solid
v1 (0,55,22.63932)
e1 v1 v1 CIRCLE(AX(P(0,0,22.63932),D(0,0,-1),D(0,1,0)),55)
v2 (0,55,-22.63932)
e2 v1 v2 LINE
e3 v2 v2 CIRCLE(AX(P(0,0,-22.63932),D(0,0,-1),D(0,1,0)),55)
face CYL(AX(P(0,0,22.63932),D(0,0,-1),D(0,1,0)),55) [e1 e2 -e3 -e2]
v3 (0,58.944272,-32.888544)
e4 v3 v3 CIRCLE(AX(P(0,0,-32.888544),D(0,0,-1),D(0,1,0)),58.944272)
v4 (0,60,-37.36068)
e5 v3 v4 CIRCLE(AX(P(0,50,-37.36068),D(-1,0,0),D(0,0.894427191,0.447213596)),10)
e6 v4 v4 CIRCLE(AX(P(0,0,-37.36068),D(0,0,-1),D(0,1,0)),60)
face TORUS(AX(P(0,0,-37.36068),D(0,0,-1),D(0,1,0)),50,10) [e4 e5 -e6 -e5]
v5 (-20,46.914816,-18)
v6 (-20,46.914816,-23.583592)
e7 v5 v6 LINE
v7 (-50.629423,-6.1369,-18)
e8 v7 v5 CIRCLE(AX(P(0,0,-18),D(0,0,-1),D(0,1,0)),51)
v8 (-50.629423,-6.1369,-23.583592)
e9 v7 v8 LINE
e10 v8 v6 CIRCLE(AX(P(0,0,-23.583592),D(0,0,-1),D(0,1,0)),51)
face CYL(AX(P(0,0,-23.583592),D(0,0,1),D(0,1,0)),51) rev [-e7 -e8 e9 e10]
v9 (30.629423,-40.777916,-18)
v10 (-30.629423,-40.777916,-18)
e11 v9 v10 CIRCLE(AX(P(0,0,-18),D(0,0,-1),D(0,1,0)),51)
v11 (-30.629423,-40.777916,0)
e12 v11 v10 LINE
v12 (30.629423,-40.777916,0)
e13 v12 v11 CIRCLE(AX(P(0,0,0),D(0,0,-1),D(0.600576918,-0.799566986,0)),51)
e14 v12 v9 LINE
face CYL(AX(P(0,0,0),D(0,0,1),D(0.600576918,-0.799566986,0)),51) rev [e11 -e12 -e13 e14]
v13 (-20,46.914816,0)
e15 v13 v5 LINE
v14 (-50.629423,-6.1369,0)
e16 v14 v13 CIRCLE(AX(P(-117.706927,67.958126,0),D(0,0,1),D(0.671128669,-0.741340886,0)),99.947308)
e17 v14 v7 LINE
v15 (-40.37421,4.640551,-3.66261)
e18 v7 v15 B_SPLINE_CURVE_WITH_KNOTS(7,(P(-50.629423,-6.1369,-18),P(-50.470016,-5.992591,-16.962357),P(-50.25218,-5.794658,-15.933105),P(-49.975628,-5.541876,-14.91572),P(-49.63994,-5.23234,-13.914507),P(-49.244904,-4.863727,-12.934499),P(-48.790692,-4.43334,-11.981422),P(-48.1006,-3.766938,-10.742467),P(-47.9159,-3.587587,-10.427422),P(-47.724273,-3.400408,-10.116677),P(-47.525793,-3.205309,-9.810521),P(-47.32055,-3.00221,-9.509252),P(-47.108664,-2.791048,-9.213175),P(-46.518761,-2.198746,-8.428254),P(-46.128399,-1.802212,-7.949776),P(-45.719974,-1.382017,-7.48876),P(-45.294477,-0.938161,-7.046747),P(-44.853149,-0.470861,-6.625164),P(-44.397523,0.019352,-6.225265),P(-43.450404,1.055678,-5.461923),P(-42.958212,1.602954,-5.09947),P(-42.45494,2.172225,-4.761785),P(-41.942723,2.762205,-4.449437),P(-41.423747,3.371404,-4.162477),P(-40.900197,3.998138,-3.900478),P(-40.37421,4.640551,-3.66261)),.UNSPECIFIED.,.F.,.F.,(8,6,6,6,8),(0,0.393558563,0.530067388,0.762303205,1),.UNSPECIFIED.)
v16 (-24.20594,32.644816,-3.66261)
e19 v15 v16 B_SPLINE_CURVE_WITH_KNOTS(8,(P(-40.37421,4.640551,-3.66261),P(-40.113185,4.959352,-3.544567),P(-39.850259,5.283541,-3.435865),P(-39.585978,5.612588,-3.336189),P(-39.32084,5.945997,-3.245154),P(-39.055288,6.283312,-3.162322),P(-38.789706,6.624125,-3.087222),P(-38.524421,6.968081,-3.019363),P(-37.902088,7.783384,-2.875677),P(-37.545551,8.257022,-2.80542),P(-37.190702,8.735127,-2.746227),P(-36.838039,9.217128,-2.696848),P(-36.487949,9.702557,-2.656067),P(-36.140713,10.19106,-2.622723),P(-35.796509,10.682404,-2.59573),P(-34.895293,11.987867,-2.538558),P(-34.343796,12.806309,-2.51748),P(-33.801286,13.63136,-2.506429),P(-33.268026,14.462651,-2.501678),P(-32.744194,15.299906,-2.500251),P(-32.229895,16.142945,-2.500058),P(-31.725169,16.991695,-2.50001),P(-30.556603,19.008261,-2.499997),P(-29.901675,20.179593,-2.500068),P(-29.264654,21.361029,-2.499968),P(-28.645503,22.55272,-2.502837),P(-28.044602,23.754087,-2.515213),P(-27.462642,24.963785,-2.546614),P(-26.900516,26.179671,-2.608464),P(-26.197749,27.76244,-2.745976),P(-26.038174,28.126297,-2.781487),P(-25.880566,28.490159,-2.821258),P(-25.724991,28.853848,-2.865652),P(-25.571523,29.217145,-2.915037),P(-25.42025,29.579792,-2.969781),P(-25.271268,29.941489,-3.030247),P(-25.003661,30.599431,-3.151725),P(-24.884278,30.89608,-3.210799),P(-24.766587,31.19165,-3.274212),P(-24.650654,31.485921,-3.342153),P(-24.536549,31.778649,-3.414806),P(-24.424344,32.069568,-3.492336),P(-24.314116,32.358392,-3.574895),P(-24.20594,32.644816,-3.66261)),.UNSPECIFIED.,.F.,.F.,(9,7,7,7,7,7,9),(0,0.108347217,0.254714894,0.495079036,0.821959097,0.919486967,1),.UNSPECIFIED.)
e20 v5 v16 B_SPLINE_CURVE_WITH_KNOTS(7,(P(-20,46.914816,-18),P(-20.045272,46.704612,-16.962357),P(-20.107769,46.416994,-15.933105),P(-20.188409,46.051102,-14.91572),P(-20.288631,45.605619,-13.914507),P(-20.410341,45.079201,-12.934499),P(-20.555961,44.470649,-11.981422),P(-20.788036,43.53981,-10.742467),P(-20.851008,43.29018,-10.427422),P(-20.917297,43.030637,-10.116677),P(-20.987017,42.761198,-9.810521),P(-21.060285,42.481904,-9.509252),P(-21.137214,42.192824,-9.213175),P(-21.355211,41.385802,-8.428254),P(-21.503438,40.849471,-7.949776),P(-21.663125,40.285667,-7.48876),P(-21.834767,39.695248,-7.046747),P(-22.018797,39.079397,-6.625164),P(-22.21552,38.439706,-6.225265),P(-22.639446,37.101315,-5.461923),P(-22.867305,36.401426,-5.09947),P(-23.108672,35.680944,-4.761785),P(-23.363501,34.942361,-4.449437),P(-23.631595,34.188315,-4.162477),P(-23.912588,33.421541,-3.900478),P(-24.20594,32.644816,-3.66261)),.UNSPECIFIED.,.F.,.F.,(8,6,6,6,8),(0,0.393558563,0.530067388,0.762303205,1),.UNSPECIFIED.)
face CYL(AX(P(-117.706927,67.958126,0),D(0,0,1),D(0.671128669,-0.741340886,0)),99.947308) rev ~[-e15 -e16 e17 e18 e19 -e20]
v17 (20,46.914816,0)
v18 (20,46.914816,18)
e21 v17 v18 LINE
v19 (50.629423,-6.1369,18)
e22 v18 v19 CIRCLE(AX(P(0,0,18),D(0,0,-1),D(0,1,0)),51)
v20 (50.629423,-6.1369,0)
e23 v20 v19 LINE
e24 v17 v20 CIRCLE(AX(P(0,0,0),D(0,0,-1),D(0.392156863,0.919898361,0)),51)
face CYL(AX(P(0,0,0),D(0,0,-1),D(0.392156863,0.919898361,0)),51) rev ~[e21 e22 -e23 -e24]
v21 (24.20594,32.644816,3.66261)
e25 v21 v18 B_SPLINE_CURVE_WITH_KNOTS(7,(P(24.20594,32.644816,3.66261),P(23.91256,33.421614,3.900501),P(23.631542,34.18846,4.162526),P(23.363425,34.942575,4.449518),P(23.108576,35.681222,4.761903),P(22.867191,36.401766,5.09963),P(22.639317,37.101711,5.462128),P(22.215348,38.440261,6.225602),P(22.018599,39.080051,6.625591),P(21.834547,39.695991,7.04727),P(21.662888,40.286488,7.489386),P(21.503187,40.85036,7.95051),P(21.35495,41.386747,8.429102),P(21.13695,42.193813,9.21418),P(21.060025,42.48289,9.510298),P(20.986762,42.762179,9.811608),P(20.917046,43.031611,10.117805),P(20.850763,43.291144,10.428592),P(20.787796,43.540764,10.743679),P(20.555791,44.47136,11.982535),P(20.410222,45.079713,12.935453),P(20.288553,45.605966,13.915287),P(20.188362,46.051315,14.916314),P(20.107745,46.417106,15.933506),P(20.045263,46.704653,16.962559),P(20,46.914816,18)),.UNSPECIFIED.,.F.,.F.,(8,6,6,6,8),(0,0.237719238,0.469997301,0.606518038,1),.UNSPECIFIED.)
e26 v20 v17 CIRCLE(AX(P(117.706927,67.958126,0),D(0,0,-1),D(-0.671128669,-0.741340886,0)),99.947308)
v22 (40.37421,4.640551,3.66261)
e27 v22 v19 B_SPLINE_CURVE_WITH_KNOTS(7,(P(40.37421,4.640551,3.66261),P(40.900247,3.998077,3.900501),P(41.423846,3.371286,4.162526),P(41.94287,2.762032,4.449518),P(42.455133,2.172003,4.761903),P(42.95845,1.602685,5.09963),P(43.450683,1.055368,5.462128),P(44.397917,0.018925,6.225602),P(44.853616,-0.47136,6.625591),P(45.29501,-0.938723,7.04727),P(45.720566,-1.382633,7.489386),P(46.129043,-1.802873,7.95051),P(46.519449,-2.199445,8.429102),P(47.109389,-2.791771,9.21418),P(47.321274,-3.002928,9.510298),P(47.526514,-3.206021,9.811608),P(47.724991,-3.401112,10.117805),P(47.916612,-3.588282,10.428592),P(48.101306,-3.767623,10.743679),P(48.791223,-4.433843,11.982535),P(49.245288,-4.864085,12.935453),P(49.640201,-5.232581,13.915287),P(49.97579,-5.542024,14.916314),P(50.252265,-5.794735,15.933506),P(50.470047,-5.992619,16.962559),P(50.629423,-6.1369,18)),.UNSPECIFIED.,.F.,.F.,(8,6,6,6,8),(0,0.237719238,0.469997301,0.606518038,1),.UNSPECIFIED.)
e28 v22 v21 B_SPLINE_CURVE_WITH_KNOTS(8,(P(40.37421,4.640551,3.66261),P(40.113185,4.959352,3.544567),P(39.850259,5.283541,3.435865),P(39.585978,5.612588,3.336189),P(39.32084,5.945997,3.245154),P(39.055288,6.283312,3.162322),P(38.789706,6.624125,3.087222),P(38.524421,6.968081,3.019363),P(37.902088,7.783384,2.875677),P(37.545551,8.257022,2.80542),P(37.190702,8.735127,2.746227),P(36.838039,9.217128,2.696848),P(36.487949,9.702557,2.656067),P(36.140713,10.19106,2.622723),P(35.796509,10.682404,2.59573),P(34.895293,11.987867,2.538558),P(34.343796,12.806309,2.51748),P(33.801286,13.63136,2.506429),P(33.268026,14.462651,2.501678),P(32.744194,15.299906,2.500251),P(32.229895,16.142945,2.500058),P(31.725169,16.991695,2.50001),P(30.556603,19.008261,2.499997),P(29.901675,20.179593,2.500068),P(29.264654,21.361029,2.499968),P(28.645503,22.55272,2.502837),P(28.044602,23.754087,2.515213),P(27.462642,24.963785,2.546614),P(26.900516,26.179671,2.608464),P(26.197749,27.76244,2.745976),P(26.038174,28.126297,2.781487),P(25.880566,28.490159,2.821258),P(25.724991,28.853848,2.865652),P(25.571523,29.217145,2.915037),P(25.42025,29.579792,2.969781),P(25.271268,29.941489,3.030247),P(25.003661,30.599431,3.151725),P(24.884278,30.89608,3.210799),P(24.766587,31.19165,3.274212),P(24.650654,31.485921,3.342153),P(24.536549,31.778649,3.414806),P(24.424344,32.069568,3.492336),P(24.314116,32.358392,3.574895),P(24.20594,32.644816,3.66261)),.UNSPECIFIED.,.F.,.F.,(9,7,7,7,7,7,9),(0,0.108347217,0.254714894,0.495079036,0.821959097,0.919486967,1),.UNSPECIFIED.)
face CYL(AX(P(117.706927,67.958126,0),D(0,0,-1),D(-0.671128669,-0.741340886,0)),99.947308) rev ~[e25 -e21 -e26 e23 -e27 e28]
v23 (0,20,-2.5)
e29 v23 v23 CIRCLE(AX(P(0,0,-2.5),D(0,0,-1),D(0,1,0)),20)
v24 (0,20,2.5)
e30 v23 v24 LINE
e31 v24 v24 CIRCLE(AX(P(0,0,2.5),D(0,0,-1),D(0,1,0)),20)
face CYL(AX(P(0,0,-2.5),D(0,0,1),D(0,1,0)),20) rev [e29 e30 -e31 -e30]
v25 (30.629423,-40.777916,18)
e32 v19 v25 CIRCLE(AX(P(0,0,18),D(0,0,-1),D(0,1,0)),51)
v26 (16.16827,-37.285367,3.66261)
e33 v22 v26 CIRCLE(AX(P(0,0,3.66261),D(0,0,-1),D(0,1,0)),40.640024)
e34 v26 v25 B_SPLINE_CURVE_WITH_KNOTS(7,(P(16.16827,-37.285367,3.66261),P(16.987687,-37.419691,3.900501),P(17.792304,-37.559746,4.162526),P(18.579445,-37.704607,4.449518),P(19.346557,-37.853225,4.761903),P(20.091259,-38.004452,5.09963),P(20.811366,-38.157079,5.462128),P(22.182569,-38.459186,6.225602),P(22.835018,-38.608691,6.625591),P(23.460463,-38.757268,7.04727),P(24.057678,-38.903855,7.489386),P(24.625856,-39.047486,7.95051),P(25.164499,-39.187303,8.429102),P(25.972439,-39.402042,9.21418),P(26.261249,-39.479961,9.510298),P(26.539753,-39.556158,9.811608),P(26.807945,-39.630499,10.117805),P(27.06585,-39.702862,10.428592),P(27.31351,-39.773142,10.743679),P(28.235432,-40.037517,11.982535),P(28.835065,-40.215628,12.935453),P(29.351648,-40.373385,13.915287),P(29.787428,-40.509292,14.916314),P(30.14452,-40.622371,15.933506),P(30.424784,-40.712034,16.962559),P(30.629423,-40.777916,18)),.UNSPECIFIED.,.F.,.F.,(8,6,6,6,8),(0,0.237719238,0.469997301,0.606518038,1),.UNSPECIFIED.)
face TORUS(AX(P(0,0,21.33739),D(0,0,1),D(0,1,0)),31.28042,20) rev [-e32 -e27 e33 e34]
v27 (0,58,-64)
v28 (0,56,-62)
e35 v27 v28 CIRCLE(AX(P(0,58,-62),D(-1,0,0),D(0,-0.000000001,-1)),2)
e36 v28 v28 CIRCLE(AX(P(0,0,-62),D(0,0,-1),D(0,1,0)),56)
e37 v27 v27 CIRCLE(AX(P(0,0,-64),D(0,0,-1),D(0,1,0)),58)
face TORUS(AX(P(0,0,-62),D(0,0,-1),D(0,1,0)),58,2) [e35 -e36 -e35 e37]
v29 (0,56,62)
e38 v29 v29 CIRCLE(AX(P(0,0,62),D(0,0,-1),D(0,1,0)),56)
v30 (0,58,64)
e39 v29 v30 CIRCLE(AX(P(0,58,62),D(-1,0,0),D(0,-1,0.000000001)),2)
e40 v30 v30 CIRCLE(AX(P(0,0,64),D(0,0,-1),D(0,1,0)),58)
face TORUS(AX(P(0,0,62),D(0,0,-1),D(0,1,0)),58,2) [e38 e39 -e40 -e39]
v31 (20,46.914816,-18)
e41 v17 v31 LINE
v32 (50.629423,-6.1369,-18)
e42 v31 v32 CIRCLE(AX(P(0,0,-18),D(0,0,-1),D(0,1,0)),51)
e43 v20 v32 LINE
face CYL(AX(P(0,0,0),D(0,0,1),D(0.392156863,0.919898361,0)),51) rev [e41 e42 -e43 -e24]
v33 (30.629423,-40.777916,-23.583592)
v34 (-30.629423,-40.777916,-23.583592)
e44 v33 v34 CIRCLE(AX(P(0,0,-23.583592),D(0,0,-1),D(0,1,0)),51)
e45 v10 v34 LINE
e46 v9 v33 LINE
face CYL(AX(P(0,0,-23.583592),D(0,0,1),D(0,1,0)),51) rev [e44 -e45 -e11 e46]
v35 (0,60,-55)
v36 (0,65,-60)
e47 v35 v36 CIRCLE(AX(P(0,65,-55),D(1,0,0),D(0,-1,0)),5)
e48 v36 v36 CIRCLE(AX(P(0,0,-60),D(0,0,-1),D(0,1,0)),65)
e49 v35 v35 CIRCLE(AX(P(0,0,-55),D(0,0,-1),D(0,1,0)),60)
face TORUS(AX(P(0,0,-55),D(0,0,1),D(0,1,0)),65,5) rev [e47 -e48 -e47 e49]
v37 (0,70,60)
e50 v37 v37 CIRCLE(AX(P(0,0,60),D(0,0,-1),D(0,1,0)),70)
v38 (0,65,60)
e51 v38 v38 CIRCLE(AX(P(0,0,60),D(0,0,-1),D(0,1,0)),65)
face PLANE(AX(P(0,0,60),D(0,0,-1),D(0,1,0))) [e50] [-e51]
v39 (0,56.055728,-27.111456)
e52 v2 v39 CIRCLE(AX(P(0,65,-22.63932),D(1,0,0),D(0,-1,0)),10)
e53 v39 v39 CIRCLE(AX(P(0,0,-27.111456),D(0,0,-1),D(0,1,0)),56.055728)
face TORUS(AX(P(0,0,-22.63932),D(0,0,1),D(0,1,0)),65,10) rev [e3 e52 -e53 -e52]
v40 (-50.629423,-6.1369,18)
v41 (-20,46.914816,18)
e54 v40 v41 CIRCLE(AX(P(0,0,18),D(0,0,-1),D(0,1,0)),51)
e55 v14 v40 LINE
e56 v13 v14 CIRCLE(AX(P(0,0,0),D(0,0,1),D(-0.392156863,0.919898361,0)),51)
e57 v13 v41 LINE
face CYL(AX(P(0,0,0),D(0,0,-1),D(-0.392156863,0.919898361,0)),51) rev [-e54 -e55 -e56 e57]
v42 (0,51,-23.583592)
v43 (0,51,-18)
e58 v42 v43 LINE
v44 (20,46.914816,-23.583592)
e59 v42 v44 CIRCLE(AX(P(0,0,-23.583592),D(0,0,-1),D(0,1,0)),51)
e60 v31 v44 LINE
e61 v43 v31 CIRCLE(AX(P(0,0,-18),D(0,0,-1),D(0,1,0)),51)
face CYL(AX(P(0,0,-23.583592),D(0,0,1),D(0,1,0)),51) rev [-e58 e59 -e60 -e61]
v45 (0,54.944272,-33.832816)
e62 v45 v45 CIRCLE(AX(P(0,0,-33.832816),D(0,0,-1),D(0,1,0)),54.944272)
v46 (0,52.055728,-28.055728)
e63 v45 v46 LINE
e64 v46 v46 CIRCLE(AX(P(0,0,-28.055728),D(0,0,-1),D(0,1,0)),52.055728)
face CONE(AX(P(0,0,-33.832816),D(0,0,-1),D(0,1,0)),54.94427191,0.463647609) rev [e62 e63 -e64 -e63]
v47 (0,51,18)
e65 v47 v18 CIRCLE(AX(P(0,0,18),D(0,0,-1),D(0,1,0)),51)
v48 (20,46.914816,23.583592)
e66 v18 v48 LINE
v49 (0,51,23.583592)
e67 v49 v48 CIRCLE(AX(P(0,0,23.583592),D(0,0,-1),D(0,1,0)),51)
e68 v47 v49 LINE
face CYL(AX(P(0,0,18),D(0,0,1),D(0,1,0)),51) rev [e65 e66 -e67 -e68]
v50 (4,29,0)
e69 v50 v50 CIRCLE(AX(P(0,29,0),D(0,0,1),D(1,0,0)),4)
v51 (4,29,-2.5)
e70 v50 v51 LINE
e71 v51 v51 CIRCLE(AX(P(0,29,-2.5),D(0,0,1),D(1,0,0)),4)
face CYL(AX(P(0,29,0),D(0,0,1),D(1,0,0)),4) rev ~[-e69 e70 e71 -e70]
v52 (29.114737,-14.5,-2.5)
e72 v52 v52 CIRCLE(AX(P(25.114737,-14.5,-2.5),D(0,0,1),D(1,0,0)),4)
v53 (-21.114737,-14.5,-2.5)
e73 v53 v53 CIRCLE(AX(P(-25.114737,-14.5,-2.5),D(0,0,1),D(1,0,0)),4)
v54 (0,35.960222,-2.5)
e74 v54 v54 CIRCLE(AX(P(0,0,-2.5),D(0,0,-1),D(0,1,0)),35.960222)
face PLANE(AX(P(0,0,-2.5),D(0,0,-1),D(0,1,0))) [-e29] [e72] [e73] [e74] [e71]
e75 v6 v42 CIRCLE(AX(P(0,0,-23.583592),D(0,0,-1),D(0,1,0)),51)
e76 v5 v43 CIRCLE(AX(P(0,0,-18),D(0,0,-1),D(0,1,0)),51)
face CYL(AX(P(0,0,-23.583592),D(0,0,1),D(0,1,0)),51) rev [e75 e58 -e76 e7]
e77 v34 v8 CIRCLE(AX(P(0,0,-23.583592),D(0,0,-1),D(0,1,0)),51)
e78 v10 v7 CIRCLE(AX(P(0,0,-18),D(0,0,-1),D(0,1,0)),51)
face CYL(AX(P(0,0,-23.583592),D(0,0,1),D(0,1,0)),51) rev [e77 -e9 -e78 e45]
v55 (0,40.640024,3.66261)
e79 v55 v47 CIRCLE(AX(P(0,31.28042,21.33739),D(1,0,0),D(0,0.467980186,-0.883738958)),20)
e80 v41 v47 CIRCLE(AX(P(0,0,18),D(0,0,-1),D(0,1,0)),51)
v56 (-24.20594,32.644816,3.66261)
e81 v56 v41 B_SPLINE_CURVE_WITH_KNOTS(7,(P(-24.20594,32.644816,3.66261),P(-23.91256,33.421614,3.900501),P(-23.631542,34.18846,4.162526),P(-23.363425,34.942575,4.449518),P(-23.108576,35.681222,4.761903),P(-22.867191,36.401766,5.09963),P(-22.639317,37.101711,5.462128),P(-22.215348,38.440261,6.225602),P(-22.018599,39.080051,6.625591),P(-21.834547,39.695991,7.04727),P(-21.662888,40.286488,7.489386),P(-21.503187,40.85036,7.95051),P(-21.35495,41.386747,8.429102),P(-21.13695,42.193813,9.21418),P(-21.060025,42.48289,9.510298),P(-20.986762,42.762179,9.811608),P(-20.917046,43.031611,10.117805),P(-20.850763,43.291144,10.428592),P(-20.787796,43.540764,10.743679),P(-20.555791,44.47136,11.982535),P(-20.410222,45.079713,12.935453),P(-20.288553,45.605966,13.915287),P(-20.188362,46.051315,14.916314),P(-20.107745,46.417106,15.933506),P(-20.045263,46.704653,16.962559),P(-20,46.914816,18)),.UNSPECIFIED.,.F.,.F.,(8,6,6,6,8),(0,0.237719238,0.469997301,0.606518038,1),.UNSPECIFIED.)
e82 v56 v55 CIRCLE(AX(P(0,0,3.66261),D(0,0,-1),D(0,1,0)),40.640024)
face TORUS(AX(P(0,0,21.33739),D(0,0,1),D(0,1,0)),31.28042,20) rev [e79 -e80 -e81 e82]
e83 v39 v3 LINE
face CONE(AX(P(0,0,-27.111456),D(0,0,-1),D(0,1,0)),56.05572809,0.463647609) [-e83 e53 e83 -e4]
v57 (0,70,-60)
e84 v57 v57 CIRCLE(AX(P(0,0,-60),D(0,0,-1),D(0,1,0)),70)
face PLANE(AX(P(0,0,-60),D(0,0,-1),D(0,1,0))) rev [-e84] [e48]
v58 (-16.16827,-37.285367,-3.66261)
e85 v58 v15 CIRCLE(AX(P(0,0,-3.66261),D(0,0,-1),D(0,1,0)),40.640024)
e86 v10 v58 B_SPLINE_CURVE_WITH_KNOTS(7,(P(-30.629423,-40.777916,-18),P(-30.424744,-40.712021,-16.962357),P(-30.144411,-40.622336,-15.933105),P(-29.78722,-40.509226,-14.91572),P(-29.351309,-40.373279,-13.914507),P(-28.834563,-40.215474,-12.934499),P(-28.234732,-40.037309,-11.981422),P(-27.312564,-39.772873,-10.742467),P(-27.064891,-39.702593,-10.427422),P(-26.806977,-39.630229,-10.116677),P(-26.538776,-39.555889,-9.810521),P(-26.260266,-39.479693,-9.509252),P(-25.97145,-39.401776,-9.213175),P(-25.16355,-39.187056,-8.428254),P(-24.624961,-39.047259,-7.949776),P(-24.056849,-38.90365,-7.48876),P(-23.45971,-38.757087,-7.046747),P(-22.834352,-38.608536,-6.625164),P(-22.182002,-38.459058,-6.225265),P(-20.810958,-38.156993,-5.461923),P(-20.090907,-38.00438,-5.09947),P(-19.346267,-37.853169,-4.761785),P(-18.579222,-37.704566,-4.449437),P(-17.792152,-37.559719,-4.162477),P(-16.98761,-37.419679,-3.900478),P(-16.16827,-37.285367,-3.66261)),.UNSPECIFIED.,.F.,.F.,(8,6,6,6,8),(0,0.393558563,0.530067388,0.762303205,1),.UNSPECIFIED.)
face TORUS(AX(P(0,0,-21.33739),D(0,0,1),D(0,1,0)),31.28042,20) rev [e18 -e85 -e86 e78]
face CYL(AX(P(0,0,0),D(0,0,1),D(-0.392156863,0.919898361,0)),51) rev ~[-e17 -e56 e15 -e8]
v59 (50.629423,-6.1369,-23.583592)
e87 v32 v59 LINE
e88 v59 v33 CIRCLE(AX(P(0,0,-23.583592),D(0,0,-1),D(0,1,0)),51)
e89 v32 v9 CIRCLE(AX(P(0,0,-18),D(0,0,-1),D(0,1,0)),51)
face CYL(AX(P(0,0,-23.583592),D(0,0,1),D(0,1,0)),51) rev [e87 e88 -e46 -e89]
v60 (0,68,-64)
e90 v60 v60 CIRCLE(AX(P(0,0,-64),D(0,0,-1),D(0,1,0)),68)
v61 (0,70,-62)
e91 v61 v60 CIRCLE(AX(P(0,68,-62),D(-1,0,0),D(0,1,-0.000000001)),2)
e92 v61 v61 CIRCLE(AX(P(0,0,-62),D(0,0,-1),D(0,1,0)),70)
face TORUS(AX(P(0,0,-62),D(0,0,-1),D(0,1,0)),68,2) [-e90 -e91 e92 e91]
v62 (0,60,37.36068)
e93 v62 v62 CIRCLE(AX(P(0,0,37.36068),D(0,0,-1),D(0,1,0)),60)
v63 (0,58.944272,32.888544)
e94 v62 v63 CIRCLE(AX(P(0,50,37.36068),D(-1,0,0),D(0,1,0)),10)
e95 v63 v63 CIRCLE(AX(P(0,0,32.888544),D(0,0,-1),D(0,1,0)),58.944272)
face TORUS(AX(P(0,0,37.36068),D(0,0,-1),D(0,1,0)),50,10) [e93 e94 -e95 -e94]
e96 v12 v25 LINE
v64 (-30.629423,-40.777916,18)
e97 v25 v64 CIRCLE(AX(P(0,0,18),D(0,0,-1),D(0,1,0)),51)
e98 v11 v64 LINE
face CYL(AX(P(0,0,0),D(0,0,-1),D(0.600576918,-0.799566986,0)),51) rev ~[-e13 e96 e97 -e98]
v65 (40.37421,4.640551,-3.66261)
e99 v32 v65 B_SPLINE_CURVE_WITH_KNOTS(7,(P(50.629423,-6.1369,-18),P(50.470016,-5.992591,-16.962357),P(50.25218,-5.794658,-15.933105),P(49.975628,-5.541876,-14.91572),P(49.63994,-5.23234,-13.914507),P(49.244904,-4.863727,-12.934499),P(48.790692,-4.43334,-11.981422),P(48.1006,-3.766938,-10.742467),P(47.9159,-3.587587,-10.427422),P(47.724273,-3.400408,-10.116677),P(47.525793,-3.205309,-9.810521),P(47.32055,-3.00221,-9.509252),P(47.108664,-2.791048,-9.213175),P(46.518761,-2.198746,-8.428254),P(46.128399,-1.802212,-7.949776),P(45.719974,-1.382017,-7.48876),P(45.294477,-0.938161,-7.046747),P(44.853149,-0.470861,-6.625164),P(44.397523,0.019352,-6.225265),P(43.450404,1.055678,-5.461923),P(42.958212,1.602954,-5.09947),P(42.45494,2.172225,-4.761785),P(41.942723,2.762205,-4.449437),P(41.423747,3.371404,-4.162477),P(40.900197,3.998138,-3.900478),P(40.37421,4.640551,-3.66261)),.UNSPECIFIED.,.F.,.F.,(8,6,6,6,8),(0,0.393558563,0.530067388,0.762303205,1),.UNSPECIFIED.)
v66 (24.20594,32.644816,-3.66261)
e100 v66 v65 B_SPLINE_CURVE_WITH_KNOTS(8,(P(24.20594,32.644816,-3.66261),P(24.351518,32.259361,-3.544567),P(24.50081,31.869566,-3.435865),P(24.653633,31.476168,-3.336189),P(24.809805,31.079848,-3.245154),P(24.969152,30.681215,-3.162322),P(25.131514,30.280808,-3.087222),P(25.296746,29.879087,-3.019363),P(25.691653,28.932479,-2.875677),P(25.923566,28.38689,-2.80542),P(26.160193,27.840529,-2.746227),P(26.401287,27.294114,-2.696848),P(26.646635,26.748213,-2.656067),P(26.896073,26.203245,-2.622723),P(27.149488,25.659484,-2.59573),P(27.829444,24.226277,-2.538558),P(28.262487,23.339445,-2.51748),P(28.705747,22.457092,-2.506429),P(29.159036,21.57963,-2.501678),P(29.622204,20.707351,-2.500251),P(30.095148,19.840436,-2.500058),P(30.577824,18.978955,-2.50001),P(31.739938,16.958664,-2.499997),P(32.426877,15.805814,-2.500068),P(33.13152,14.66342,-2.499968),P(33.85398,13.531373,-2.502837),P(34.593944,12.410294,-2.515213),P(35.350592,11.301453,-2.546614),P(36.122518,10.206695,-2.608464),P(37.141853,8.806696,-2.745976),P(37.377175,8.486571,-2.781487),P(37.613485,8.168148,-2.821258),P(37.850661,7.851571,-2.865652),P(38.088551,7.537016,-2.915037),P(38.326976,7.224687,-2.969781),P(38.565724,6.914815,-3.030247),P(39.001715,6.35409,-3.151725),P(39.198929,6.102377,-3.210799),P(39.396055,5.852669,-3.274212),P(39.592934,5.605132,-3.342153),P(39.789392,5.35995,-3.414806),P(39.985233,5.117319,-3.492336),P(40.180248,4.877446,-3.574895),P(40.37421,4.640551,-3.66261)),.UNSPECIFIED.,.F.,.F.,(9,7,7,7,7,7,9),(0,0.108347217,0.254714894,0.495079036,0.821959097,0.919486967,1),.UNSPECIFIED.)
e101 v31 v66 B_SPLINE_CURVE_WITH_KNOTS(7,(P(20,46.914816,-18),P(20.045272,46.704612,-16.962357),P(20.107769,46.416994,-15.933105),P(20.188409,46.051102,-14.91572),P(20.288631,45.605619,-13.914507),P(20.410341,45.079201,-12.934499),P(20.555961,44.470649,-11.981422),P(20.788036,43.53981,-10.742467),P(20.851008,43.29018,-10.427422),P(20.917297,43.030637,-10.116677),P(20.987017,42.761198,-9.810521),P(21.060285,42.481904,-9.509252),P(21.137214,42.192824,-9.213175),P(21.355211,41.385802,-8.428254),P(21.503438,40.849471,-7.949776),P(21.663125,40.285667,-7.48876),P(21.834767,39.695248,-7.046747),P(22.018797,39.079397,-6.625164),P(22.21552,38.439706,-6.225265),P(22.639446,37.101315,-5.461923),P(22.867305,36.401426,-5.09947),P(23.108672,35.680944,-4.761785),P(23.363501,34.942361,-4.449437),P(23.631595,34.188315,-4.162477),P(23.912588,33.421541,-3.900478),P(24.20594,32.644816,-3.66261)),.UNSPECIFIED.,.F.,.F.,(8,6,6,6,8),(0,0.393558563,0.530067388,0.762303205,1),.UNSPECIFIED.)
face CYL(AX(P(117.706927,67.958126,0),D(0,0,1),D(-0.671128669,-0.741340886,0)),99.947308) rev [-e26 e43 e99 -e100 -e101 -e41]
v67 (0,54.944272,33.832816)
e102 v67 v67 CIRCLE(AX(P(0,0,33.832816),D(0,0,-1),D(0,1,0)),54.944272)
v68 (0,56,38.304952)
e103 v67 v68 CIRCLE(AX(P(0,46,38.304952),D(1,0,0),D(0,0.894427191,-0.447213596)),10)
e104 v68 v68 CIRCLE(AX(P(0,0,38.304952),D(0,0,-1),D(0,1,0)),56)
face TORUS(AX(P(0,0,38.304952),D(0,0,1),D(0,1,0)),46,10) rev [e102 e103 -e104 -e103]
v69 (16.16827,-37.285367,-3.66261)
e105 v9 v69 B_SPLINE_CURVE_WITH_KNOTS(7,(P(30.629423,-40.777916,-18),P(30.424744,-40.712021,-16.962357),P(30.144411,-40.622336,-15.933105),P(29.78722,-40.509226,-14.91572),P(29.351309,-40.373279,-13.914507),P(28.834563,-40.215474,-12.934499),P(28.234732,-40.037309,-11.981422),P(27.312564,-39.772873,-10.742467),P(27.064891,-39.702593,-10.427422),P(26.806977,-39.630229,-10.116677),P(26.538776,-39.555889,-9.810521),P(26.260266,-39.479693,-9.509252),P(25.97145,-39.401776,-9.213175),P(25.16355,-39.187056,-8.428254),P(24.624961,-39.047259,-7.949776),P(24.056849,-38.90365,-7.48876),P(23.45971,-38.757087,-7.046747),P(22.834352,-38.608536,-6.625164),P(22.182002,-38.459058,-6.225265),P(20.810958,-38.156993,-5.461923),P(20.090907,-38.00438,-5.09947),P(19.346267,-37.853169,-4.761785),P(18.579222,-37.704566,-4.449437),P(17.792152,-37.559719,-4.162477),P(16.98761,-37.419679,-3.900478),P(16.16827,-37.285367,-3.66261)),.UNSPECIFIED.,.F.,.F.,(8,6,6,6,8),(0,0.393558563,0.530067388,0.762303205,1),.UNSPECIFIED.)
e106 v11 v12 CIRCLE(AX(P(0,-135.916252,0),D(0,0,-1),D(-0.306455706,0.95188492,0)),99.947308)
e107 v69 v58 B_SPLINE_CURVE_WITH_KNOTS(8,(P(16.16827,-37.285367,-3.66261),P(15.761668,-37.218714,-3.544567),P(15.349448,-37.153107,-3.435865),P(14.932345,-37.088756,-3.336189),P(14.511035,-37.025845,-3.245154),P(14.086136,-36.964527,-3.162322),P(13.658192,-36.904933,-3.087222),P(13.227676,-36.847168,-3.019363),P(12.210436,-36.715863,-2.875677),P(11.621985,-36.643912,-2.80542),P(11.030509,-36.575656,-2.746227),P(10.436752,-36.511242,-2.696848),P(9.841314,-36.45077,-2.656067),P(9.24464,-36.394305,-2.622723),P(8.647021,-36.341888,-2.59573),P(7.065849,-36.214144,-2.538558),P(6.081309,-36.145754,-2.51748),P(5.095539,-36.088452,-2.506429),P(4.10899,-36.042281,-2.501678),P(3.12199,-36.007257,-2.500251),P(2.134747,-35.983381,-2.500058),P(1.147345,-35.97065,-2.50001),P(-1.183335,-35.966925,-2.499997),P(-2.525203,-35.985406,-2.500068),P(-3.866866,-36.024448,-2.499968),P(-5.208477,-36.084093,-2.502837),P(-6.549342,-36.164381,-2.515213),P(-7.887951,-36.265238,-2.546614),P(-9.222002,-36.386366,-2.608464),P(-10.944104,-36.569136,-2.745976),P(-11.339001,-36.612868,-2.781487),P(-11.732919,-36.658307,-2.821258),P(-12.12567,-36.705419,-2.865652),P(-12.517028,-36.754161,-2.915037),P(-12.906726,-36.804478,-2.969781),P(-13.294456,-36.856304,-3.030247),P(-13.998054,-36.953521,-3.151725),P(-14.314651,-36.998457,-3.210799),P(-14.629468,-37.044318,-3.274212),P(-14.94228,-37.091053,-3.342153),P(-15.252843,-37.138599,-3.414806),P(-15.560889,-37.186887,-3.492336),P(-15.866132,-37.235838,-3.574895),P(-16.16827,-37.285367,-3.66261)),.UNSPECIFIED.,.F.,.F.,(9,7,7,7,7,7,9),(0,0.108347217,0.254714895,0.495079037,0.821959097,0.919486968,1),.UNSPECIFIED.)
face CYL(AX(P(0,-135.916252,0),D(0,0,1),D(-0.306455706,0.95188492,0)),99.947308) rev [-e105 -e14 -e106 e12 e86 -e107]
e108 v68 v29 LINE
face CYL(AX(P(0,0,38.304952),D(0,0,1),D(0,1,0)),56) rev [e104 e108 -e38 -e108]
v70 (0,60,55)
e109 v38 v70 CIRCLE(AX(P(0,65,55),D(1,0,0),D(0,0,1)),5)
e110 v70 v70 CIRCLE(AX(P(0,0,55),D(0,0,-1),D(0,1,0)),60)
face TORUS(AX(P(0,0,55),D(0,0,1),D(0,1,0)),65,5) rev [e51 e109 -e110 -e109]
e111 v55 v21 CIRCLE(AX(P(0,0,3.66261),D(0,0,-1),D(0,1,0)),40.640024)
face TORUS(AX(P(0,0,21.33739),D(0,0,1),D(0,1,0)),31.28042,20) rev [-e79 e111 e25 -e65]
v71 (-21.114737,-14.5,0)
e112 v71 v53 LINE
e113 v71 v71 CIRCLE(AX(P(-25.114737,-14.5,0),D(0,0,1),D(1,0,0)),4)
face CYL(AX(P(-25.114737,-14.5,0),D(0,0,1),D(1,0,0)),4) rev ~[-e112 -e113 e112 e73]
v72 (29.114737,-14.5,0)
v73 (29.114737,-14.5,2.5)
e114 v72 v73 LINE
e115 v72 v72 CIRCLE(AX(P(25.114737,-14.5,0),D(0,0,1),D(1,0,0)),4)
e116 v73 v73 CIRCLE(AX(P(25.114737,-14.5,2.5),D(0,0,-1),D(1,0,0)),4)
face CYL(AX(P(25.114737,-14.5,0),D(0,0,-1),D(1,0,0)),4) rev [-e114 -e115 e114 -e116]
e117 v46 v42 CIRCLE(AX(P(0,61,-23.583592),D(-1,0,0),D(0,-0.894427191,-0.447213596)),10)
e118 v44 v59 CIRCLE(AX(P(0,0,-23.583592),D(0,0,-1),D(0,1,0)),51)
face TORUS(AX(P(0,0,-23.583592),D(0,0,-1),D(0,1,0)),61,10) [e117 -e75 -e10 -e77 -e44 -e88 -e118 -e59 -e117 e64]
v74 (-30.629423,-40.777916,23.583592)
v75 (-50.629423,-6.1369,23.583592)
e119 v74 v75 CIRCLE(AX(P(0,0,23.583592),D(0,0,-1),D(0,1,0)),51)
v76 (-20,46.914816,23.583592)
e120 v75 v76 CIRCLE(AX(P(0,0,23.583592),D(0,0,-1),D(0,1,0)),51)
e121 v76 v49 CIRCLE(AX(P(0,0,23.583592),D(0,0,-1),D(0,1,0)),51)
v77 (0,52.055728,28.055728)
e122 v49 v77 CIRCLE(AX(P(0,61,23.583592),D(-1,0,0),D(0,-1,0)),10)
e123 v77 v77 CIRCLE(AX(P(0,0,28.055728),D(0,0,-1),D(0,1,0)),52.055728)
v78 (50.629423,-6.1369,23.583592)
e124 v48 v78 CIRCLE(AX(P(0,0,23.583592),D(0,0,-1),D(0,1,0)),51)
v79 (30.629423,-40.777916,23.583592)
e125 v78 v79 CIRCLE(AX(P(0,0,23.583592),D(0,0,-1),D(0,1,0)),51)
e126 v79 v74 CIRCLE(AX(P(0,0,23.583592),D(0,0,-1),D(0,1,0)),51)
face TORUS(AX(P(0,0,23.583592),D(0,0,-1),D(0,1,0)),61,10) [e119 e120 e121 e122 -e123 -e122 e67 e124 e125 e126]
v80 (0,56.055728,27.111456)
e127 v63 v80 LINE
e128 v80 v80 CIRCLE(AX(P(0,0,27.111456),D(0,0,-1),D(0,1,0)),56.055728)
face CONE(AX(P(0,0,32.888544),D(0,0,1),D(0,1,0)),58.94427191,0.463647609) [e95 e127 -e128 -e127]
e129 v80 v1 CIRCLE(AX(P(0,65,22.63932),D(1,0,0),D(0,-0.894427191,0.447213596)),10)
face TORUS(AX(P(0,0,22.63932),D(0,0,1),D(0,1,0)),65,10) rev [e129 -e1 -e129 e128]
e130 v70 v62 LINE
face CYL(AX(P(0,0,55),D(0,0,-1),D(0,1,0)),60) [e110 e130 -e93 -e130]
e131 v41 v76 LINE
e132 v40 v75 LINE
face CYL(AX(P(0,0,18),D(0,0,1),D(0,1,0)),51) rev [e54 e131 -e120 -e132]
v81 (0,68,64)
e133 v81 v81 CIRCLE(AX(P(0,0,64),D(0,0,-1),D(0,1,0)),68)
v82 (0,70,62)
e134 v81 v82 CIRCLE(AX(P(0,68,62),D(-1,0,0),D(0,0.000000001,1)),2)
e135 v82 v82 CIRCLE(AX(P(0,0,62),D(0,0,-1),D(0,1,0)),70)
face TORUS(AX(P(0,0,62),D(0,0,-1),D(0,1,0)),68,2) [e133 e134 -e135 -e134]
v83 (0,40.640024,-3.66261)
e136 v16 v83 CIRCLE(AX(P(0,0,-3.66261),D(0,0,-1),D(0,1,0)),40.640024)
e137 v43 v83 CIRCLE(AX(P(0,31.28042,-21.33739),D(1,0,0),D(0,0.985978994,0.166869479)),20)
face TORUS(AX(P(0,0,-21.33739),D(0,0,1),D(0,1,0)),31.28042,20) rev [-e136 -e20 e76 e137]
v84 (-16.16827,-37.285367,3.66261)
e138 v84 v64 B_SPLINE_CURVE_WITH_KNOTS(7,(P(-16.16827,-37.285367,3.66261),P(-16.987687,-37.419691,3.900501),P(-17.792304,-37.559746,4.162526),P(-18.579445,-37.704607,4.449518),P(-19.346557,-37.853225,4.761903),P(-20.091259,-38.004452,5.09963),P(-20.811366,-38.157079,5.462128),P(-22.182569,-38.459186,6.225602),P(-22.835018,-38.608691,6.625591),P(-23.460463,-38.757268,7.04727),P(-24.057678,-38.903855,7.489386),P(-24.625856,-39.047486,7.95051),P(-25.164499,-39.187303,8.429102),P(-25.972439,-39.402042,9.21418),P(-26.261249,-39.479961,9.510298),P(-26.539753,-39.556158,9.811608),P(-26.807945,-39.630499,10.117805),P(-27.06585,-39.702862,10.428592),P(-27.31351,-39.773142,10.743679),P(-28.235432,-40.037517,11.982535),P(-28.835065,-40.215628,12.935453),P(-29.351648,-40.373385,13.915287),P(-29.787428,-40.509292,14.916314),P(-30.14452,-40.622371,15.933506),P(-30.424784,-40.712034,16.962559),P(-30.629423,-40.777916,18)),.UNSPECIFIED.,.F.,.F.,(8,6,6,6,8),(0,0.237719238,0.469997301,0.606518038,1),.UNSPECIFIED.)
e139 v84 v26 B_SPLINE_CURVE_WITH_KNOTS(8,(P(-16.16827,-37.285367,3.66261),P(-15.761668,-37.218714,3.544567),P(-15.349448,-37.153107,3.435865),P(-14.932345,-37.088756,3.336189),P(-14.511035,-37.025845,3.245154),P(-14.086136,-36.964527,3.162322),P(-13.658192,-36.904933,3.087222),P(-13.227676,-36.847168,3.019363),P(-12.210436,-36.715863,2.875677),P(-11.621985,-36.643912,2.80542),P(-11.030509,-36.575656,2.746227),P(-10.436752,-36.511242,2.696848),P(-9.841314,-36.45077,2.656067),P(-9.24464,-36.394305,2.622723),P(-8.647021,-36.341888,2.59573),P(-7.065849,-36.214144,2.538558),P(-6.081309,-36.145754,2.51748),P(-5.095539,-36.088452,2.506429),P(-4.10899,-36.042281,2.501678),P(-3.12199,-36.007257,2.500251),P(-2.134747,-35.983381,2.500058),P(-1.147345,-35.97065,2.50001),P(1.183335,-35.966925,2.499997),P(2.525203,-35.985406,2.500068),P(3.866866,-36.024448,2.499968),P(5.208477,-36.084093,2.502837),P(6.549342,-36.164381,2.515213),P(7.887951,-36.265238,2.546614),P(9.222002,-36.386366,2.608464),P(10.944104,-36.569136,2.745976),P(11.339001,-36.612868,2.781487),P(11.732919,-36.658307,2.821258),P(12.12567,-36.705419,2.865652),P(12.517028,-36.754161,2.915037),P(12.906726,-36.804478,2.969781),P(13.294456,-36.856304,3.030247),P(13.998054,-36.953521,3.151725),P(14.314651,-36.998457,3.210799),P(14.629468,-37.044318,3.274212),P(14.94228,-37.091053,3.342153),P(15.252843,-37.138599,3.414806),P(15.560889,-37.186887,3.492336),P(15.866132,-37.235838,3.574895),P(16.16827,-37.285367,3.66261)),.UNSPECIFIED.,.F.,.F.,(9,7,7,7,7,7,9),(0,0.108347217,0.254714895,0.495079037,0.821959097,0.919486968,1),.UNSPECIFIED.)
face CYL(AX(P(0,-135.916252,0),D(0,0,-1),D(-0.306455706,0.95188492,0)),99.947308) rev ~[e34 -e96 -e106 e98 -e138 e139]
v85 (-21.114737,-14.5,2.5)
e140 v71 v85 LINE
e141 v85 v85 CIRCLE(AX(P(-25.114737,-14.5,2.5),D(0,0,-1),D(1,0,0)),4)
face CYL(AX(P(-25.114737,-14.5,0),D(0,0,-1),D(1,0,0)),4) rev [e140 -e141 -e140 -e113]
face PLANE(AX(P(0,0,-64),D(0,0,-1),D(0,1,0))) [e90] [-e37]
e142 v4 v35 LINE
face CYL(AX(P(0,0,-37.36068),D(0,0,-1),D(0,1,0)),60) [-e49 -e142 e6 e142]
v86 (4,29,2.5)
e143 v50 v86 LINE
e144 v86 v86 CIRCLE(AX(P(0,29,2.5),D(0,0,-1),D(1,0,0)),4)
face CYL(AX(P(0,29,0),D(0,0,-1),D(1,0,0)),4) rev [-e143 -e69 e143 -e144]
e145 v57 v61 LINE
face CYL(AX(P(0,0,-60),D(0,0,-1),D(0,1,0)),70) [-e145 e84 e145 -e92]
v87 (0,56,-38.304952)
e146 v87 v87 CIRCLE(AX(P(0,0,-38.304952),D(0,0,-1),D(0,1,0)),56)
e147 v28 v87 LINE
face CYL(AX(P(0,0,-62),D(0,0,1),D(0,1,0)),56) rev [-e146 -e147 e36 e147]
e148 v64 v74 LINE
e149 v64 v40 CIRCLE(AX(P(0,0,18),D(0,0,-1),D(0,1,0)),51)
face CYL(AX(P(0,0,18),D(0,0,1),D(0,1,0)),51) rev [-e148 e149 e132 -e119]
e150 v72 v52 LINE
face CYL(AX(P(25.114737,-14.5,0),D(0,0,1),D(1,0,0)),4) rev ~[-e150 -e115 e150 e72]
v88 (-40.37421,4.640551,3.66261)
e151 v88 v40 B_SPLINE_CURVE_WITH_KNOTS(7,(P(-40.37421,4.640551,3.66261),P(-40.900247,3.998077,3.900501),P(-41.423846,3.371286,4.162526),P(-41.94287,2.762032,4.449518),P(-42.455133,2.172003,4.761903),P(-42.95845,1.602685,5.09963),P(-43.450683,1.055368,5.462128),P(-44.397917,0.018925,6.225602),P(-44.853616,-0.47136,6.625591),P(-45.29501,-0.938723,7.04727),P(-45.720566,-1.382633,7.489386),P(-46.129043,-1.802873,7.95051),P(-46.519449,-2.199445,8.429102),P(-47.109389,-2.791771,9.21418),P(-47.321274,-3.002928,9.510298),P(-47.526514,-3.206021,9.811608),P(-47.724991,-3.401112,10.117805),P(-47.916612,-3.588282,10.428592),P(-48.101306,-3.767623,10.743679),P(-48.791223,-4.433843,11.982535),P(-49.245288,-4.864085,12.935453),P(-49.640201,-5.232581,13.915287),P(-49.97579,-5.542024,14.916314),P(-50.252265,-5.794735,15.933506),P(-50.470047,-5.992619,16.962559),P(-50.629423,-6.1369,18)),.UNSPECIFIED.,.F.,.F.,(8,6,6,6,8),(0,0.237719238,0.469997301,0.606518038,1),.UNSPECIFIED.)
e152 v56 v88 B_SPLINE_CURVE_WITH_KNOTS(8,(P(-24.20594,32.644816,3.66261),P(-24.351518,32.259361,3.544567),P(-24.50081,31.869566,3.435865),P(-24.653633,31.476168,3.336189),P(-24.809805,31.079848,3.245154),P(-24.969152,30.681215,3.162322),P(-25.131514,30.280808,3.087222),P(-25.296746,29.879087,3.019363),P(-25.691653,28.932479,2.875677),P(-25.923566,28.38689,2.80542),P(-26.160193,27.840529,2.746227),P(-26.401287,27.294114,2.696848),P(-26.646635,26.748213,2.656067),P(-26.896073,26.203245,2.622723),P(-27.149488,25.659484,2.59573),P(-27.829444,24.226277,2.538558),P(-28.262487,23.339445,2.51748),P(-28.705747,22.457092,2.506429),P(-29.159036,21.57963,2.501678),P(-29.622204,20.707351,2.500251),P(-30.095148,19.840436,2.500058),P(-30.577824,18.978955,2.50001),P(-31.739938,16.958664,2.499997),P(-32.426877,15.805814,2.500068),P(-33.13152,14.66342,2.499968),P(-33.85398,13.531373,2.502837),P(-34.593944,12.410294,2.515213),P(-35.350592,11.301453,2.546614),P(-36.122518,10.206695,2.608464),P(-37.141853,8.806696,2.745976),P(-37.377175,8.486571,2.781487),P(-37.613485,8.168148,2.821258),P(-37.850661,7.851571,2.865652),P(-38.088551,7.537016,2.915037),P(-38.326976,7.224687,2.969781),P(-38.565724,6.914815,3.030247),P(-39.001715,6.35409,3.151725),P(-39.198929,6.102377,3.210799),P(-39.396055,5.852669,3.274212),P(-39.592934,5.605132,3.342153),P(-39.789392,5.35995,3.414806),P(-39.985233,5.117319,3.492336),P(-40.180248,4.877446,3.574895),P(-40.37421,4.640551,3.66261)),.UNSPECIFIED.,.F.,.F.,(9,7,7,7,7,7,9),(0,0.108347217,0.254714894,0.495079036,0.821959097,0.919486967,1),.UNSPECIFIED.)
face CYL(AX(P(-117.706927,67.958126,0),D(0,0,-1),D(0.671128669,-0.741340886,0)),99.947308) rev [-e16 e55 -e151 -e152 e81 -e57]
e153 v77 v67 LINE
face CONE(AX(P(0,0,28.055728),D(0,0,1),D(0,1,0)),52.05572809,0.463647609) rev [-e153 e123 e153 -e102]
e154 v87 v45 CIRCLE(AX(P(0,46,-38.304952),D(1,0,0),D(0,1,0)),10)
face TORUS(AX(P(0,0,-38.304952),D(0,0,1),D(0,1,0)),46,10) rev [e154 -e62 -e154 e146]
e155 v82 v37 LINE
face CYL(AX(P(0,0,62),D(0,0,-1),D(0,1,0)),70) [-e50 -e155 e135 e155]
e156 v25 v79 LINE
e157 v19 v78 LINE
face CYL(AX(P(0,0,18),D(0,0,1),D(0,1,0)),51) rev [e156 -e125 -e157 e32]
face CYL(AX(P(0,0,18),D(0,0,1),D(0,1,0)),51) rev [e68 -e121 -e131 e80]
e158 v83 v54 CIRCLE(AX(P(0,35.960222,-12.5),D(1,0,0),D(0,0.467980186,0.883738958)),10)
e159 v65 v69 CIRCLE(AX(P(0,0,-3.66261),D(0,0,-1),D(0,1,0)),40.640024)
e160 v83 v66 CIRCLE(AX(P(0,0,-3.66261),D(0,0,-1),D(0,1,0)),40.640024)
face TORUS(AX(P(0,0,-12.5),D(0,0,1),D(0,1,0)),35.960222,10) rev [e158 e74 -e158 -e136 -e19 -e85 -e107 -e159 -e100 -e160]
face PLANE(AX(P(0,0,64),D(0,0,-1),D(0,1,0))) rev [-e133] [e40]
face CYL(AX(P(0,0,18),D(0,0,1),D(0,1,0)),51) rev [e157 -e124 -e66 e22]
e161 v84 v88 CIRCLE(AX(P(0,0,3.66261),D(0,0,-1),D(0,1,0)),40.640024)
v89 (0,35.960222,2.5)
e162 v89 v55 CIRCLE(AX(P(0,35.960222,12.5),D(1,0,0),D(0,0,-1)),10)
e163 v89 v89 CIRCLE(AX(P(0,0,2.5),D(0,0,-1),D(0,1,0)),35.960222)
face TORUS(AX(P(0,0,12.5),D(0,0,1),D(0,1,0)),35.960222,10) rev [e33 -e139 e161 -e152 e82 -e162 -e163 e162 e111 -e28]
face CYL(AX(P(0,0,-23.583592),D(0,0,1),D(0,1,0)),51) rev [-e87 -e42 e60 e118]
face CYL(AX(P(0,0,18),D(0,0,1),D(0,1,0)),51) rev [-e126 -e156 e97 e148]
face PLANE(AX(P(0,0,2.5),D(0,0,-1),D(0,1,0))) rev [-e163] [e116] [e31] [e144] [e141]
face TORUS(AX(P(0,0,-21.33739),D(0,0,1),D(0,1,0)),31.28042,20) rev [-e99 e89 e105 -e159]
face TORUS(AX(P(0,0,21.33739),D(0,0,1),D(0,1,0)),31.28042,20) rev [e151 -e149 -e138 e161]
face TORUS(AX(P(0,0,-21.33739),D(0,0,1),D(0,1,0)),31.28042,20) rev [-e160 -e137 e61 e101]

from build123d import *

# Parameters (mm, degrees)
SKETCH2_R               = 4
CUT_EXTRUDE1_DEPTH      = 65
CUT_EXTRUDE1_DEPTH_BACK = 65


with BuildPart() as part:
    # Sketch1 → Revolve1 (revolve)
    with BuildSketch(Plane(origin=(0, 0, 0), x_dir=(0, 0, -1), z_dir=(1, 0, 0))):
        with BuildLine():
            Line((-60, 70), (-60, 65))
            ThreePointArc((-60, 65), (-58.535533906, 61.464466094), (-55, 60))
            Line((-55, 60), (-37.360679775, 60))
            ThreePointArc((-37.360679775, 60), (-35.06315057, 59.732489895), (-32.88854382, 58.94427191))
            Line((-32.88854382, 58.94427191), (-27.11145618, 56.05572809))
            ThreePointArc((-27.11145618, 56.05572809), (-24.93684943, 55.267510105), (-22.639320225, 55))
            Line((-22.639320225, 55), (22.639320225, 55))
            ThreePointArc((22.639320225, 55), (24.93684943, 55.267510105), (27.11145618, 56.05572809))
            Line((27.11145618, 56.05572809), (32.88854382, 58.94427191))
            ThreePointArc((32.88854382, 58.94427191), (35.06315057, 59.732489895), (37.360679775, 60))
            Line((37.360679775, 60), (55, 60))
            ThreePointArc((55, 60), (58.535533906, 61.464466094), (60, 65))
            Line((60, 65), (60, 70))
            Line((60, 70), (62, 70))
            ThreePointArc((62, 70), (63.414213562, 69.414213562), (64, 68))
            Line((64, 68), (64, 58))
            ThreePointArc((64, 58), (63.414213562, 56.585786438), (62, 56))
            Line((62, 56), (38.304951685, 56))
            ThreePointArc((38.304951685, 56), (36.00742248, 55.732489895), (33.83281573, 54.94427191))
            Line((33.83281573, 54.94427191), (28.05572809, 52.05572809))
            ThreePointArc((28.05572809, 52.05572809), (25.88112134, 51.267510105), (23.583592135, 51))
            Line((23.583592135, 51), (18, 51))
            ThreePointArc((18, 51), (9.623718705, 47.491216353), (3.66261042, 40.640023829))
            ThreePointArc((3.66261042, 40.640023829), (2.795003972, 38.37124916), (2.5, 35.960221972))
            Line((2.5, 35.960221972), (2.5, 20))
            Line((2.5, 20), (-2.5, 20))
            Line((-2.5, 20), (-2.5, 35.960221972))
            ThreePointArc((-2.5, 35.960221972), (-2.795003972, 38.37124916), (-3.66261042, 40.640023829))
            ThreePointArc((-3.66261042, 40.640023829), (-9.623718705, 47.491216353), (-18, 51))
            Line((-18, 51), (-23.583592135, 51))
            ThreePointArc((-23.583592135, 51), (-25.88112134, 51.267510105), (-28.05572809, 52.05572809))
            Line((-28.05572809, 52.05572809), (-33.83281573, 54.94427191))
            ThreePointArc((-33.83281573, 54.94427191), (-36.00742248, 55.732489895), (-38.304951685, 56))
            Line((-38.304951685, 56), (-62, 56))
            ThreePointArc((-62, 56), (-63.414213562, 56.585786438), (-64, 58))
            Line((-64, 58), (-64, 68))
            ThreePointArc((-64, 68), (-63.414213562, 69.414213562), (-62, 70))
            Line((-62, 70), (-60, 70))
        make_face()
    revolve(axis=Axis((0, 0, 51.361173414), (0, 0, -1)))

    # Sketch2 → Cut-Extrude1 (cut, two sides)
    with BuildSketch(Plane.XY) as cut_extrude1_sk:
        with Locations((0, 29)):
            Circle(SKETCH2_R)
        with Locations((25.11473671, -14.5)):
            Circle(SKETCH2_R)
        with Locations((-25.11473671, -14.5)):
            Circle(SKETCH2_R)
        with BuildLine():
            ThreePointArc((-20, 46.914816423), (-44.167295593, 25.5), (-50.629422836, -6.136900136))
            ThreePointArc((-50.629422836, -6.136900136), (-31.150018848, 17.984471767), (-20, 46.914816423))
        make_face()
        with BuildLine():
            ThreePointArc((50.629422836, -6.136900136), (31.150018848, 17.984471767), (20, 46.914816423))
            ThreePointArc((20, 46.914816423), (44.167295593, 25.5), (50.629422836, -6.136900136))
        make_face()
        with BuildLine():
            ThreePointArc((-30.629422836, -40.777916287), (0, -35.968943535), (30.629422836, -40.777916287))
            ThreePointArc((30.629422836, -40.777916287), (0, -51), (-30.629422836, -40.777916287))
        make_face()
    extrude(amount=CUT_EXTRUDE1_DEPTH, mode=Mode.SUBTRACT)
    extrude(cut_extrude1_sk.sketch, amount=-CUT_EXTRUDE1_DEPTH_BACK, mode=Mode.SUBTRACT)


solid = part.part
